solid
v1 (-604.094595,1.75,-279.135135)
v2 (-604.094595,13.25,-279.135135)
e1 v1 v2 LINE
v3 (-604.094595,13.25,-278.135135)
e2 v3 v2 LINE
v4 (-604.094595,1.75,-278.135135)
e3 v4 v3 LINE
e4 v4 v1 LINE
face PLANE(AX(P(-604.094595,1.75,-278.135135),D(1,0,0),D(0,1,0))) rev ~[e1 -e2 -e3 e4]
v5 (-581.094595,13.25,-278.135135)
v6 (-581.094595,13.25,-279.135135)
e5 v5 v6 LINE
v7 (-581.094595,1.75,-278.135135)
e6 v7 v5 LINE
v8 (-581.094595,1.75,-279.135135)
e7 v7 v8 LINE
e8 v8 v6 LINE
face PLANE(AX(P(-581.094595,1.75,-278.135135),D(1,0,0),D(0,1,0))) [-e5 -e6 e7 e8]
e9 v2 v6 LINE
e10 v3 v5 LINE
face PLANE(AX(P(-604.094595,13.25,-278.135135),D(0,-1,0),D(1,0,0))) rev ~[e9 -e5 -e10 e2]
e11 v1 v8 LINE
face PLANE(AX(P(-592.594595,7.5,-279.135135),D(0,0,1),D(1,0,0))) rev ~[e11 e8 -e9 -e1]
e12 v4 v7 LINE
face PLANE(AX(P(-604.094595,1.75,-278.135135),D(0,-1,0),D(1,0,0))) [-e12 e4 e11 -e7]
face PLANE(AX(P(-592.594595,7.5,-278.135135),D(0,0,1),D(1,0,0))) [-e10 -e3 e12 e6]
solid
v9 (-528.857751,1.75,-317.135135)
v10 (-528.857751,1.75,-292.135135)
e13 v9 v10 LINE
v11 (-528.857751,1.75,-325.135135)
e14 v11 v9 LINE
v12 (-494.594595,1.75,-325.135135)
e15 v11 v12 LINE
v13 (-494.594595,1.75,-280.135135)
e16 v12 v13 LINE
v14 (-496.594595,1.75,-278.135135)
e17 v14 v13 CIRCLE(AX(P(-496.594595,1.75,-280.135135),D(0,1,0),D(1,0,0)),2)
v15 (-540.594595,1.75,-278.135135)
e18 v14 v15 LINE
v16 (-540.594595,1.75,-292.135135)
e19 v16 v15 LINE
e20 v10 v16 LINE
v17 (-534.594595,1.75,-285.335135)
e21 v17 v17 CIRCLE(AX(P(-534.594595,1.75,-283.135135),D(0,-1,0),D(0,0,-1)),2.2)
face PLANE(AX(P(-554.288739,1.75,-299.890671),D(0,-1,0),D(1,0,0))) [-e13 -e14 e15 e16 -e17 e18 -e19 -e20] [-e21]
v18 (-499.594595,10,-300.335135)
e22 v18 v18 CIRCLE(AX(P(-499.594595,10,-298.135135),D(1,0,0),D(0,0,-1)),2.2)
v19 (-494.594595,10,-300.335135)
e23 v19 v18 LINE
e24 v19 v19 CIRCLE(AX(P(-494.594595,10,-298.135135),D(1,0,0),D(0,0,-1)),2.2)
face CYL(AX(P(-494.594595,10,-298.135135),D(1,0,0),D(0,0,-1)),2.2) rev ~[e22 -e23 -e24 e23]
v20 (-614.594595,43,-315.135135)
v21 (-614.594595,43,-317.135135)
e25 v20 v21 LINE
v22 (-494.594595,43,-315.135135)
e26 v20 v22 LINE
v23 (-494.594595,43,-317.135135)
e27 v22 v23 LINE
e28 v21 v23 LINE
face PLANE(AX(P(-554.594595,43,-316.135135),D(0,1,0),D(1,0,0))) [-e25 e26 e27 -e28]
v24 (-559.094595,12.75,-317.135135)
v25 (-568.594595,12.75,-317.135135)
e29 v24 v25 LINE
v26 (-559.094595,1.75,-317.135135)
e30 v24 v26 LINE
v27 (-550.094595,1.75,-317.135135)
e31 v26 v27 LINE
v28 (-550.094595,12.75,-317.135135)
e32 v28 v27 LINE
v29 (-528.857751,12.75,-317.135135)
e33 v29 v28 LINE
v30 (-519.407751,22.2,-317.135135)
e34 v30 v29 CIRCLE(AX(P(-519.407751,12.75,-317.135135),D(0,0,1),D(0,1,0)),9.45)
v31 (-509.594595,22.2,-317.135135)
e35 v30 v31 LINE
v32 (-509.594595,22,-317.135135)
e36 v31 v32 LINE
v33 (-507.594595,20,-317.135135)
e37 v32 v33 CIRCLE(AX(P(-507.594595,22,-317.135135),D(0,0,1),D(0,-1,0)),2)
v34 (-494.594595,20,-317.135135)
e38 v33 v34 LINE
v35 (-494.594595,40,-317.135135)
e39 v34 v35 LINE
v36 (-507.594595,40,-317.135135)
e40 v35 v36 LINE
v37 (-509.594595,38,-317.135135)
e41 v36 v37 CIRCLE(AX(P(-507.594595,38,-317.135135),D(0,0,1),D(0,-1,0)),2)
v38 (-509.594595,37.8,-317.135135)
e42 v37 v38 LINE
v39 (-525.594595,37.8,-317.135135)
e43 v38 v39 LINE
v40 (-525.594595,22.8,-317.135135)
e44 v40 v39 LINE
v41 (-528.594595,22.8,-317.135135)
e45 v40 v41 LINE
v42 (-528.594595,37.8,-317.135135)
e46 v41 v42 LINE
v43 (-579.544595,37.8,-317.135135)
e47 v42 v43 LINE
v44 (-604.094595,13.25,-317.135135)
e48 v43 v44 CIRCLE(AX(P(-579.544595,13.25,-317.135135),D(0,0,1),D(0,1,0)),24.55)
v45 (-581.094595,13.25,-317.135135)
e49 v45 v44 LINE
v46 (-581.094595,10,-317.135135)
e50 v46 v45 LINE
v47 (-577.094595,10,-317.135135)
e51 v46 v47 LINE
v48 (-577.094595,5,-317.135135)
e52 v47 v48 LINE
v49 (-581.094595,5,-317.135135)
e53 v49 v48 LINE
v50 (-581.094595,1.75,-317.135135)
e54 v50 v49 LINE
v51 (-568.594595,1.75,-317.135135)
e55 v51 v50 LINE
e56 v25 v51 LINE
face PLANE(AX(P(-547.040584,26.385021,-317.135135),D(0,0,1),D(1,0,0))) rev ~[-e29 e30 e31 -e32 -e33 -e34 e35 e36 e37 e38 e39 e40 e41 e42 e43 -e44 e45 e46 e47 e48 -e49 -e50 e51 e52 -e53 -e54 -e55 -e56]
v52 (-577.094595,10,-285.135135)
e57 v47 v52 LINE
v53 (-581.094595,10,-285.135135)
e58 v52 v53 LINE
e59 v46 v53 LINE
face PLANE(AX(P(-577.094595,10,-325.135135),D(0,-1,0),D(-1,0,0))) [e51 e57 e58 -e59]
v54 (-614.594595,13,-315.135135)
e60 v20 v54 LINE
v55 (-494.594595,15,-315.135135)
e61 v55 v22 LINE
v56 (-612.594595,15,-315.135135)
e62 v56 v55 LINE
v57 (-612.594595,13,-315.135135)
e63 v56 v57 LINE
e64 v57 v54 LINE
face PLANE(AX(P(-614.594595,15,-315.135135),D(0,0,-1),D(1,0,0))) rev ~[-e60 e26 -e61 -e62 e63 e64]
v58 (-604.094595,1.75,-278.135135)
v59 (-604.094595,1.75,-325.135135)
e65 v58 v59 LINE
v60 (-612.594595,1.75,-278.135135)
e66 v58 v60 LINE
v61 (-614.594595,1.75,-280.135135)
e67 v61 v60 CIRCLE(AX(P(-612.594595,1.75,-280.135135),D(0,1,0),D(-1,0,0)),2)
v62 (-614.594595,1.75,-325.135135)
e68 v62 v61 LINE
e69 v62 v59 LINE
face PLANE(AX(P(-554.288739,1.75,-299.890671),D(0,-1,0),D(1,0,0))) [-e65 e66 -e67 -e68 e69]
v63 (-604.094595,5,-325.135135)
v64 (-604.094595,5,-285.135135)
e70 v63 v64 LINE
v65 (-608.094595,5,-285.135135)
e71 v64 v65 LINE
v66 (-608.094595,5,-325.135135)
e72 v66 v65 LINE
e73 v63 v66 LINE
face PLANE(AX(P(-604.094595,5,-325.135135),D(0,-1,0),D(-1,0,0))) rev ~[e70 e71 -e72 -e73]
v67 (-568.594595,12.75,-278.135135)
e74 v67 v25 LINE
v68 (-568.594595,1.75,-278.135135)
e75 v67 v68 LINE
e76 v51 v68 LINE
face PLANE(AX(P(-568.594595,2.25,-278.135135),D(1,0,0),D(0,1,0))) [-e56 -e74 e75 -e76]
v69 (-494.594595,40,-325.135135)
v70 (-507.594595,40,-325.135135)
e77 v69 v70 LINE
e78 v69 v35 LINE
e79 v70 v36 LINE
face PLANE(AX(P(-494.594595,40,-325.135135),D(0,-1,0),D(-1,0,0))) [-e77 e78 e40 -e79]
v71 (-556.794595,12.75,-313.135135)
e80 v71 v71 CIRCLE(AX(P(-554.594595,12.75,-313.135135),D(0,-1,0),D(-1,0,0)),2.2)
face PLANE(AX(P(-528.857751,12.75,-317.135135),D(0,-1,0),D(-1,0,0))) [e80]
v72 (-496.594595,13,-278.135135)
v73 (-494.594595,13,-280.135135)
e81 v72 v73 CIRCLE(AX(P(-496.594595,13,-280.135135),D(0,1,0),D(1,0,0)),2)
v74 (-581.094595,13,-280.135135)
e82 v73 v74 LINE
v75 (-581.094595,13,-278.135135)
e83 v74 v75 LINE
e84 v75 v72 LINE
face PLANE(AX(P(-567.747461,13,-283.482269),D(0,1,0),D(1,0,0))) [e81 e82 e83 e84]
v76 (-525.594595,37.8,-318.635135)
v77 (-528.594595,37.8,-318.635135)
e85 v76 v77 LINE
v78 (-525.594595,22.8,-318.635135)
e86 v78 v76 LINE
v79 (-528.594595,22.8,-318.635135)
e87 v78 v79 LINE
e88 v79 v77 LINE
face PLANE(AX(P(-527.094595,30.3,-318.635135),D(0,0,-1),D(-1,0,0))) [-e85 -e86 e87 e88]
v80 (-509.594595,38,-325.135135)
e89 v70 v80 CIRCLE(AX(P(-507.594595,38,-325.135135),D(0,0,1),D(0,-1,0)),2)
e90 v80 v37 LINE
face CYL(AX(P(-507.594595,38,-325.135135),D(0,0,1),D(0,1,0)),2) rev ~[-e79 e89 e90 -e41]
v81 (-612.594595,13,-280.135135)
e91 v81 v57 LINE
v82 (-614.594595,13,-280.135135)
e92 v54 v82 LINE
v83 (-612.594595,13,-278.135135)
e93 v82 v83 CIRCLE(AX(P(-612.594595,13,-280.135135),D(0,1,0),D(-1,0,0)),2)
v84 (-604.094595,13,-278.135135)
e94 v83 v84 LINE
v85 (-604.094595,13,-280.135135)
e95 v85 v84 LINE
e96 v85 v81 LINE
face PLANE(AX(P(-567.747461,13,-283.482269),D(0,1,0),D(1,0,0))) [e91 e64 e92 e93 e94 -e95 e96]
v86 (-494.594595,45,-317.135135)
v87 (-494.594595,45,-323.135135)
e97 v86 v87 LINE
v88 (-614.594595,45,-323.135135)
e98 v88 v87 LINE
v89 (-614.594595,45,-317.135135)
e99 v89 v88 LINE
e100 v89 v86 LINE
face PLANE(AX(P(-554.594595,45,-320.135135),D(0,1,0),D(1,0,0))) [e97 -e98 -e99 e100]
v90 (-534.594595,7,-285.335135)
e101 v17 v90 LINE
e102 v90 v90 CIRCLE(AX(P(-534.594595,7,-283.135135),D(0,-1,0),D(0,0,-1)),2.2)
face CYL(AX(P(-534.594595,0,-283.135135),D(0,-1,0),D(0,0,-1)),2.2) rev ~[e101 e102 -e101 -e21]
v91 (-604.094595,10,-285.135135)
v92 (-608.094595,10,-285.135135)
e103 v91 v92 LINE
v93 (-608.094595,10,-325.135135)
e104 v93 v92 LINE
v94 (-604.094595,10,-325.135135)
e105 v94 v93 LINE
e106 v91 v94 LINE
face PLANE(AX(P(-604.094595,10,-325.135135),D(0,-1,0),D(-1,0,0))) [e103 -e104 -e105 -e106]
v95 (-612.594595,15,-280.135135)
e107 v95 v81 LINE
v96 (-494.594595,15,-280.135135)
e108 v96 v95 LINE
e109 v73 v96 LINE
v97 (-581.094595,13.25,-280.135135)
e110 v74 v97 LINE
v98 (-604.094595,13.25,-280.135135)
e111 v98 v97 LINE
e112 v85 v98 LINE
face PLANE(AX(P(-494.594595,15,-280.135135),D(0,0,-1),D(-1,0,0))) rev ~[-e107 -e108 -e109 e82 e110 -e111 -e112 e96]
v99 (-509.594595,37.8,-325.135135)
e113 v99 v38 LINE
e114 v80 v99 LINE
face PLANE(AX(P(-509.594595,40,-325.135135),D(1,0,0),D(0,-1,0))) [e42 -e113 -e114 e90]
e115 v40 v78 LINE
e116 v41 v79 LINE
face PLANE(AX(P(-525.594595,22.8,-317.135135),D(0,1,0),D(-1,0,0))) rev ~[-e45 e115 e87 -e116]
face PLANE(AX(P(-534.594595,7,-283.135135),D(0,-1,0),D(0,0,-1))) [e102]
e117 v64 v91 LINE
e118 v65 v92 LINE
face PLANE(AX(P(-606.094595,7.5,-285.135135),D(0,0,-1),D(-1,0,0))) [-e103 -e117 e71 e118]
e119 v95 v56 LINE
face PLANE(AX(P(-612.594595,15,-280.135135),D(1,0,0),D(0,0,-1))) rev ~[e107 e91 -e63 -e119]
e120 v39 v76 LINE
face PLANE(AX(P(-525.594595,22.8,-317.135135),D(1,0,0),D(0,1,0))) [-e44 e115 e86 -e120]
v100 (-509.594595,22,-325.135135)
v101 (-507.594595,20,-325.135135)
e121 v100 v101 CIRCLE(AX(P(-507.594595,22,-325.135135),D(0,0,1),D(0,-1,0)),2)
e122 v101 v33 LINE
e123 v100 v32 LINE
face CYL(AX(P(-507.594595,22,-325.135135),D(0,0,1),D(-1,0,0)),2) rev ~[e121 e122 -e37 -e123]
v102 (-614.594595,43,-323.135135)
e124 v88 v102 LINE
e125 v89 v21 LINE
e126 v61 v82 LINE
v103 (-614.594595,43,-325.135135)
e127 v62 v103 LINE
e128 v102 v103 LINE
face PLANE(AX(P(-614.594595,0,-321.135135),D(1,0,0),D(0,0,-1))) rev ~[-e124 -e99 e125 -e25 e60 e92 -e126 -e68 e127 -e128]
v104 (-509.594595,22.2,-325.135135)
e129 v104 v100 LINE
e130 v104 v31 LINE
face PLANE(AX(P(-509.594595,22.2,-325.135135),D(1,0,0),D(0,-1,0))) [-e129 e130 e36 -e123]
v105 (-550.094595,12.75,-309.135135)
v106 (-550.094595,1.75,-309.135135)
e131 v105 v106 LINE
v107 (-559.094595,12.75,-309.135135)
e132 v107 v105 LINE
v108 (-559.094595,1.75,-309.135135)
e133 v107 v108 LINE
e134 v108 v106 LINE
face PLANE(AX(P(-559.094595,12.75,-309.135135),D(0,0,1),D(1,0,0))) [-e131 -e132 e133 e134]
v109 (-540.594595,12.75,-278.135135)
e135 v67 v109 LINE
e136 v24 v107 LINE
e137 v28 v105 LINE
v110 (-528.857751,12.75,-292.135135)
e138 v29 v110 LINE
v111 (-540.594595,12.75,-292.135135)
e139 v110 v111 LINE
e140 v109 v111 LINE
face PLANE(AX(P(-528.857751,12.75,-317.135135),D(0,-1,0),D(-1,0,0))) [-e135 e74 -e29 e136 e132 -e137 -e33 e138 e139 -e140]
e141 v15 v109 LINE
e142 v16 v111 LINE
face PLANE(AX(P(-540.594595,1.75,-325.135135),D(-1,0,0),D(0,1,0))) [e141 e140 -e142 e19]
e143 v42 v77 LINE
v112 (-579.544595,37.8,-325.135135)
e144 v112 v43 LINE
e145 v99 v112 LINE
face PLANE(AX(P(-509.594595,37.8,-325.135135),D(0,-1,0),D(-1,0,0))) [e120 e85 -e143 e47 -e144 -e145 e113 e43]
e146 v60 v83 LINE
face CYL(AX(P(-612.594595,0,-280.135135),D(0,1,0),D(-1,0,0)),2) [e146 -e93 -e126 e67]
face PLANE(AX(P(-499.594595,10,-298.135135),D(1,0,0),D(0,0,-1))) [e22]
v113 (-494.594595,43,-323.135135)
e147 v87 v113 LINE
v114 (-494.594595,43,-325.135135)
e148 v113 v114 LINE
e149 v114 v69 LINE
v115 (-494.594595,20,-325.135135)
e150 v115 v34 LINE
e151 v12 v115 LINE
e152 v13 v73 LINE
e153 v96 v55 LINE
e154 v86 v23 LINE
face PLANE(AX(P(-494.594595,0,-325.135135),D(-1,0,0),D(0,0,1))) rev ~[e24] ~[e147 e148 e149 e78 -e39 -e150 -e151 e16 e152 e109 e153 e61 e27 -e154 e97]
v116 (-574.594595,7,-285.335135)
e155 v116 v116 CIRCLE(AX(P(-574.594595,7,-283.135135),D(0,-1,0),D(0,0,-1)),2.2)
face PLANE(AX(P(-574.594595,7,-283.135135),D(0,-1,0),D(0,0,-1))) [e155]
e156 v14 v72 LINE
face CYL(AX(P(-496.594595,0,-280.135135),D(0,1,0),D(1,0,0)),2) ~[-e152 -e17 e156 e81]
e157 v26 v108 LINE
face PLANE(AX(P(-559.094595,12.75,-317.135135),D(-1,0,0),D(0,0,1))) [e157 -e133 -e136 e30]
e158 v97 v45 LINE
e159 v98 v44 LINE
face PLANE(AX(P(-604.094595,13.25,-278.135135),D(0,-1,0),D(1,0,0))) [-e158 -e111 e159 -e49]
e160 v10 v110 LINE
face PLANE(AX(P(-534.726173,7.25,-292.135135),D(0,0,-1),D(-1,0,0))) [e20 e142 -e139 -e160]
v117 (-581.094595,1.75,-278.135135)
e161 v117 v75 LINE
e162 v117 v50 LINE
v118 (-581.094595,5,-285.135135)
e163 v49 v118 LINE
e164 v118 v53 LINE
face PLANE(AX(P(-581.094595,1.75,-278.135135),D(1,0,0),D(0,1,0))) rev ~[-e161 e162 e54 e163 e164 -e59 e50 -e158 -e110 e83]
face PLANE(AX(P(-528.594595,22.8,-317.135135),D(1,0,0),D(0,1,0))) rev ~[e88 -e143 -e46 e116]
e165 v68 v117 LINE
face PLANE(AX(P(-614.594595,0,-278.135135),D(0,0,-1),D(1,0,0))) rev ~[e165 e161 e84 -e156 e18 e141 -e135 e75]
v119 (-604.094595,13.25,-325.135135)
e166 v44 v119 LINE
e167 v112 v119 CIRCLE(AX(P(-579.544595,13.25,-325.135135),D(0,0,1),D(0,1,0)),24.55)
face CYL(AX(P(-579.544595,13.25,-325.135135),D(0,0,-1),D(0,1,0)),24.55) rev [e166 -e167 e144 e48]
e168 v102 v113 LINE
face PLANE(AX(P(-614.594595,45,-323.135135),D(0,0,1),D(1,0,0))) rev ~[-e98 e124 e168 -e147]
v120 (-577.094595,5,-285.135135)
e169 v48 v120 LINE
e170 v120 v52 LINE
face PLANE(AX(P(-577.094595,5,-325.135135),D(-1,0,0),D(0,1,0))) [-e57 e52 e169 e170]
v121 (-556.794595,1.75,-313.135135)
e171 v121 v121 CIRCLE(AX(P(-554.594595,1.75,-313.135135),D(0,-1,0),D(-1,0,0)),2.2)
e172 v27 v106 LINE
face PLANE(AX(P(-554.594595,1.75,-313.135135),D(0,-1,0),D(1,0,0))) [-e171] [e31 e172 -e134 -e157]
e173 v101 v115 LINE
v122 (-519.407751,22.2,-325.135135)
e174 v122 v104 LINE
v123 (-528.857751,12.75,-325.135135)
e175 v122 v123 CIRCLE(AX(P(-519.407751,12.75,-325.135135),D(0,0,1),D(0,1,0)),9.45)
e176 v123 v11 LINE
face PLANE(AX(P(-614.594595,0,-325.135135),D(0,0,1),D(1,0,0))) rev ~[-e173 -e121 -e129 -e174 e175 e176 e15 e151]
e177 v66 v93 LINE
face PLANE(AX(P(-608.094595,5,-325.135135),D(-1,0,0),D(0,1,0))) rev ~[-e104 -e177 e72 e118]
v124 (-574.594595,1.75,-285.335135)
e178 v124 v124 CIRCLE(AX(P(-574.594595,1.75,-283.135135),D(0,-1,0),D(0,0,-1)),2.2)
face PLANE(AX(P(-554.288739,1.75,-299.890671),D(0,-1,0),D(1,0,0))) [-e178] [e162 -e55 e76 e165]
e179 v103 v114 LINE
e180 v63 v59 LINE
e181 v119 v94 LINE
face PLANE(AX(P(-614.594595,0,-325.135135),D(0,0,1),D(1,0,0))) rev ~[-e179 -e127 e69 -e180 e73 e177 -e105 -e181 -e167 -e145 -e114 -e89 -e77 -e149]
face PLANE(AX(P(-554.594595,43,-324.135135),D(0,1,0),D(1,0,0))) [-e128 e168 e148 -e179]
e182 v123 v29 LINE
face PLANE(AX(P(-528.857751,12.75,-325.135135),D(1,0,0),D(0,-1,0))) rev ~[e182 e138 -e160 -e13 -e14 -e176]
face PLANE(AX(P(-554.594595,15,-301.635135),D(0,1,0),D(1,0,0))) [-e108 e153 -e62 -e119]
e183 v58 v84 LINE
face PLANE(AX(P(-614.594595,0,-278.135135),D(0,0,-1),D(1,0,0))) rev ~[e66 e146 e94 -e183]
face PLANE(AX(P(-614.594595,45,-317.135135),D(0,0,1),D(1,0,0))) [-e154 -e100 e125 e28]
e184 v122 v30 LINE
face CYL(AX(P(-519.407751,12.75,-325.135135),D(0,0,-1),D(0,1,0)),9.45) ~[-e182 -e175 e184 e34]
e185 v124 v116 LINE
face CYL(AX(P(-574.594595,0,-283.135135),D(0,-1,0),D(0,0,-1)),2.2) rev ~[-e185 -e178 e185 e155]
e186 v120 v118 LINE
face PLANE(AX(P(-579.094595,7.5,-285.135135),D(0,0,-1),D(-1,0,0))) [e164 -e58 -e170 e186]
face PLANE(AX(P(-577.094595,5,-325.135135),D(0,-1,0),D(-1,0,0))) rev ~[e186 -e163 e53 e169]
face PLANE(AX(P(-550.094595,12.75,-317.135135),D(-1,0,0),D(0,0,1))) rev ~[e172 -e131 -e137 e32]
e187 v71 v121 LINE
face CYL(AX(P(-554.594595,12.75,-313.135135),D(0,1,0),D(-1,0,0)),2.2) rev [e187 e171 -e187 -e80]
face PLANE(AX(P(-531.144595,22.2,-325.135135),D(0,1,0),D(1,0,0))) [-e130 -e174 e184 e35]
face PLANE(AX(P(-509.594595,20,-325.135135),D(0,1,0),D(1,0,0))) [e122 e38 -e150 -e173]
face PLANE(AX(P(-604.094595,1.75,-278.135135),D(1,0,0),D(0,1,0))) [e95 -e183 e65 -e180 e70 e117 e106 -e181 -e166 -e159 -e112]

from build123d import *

# Parameters (mm, degrees)
SKETCH_1_W           = 120
SKETCH_1_H           = 47
EXTRUDE_1_DEPTH      = 15
SKETCH_2_W           = 120
SKETCH_2_H           = 10
EXTRUDE_2_DEPTH      = 30
SKETCH_3_W           = 28
SKETCH_3_H           = 10.5
CUT_EXTRUDE_1_DEPTH  = 619.029542744
SKETCH_4_W           = 23
SKETCH_4_H           = 11.5
CUT_EXTRUDE_2_DEPTH  = 619.029542744
SKETCH_5_W           = 23
SKETCH_5_H           = 11.5
EXTRUDE_3_DEPTH      = 1
CUT_EXTRUDE_4_DEPTH  = 8
SKETCH_8_W           = 4
SKETCH_8_H           = 5
CUT_EXTRUDE_5_DEPTH  = 40
EXTRUDE_5_DEPTH      = 3
FILLET_2_R           = 2
EXTRUDE_6_DEPTH      = 2
SKETCH_12_W          = 120
SKETCH_12_H          = 2
CUT_EXTRUDE_7_DEPTH  = 2
SKETCH_15_R          = 2.2
CUT_EXTRUDE_9_DEPTH  = 7
SKETCH_18_W          = 63.5
SKETCH_18_H          = 11
CUT_EXTRUDE_15_DEPTH = 8
SKETCH_20_W          = 28
SKETCH_20_H          = 0.5
CUT_EXTRUDE_16_DEPTH = 80
CUT_EXTRUDE_17_DEPTH = 8
SKETCH_22_W          = 11.736843269
SKETCH_22_H          = 11
CUT_EXTRUDE_18_DEPTH = 25
SKETCH_24_W          = 120
SKETCH_24_H          = 4
CUT_EXTRUDE_19_DEPTH = 2
SKETCH_25_W          = 23.28525444
SKETCH_25_H          = 36.187442056
CUT_EXTRUDE_20_DEPTH = 2
SKETCH_27_W          = 120.611710339
SKETCH_27_H          = 50.488927659
CUT_EXTRUDE_24_DEPTH = 1.75
SKETCH_28_W          = 3
SKETCH_28_H          = 15
EXTRUDE_7_DEPTH      = 1.5
CUT_EXTRUDE_25_DEPTH = 2
SKETCH_30_W          = 9
SKETCH_30_H          = 8
SKETCH_30_R          = 2.2
EXTRUDE_8_DEPTH      = 11
SKETCH_33_R          = 2.2
CUT_EXTRUDE_27_DEPTH = 5


with BuildPart() as part:
    # 草图1 → 凸台-拉伸1 (new body)
    with BuildSketch(Plane(origin=(0, 0, 0), x_dir=(1, 0, 0), z_dir=(0, 1, 0))):
        with Locations((-554.594594595, 301.635135135)):
            Rectangle(SKETCH_1_W, SKETCH_1_H)
    extrude(amount=EXTRUDE_1_DEPTH)

    # 草图2 → 凸台-拉伸2 (add)
    with BuildSketch(Plane(origin=(0, 15, 0), x_dir=(1, 0, 0), z_dir=(0, 1, 0))):
        with Locations((-554.594594595, 320.135135135)):
            Rectangle(SKETCH_2_W, SKETCH_2_H)
    extrude(amount=EXTRUDE_2_DEPTH)

    # 草图3 → 切除-拉伸1 (cut, through all)
    with BuildSketch(Plane.XY.offset(-278.135135135)):
        with Locations((-554.594594595, 7.5)):
            Rectangle(SKETCH_3_W, SKETCH_3_H)
    extrude(amount=-CUT_EXTRUDE_1_DEPTH, mode=Mode.SUBTRACT)

    # 草图4 → 切除-拉伸2 (cut, through all)
    with BuildSketch(Plane.XY.offset(-278.135135135)):
        with Locations((-592.594594595, 7.5)):
            Rectangle(SKETCH_4_W, SKETCH_4_H)
    extrude(amount=-CUT_EXTRUDE_2_DEPTH, mode=Mode.SUBTRACT)

    # 草图7 → 切除-拉伸4 (cut)
    with BuildSketch(Plane(origin=(0, 0, -325.135135135), x_dir=(-1, 0, 0), z_dir=(0, 0, -1))):
        with BuildLine():
            Line((494.594594595, 40), (509.594594595, 40))
            Line((509.594594595, 40), (509.594594595, 37.8))
            Line((509.594594595, 37.8), (579.544594595, 37.8))
            ThreePointArc((579.544594595, 37.8), (596.904066073, 30.609471478), (604.094594595, 13.25))
            Line((604.094594595, 13.25), (604.094594595, 12.75))
            Line((604.094594595, 12.75), (540.594594595, 12.75))
            ThreePointArc((540.594594595, 12.75), (537.826753677, 19.432159082), (531.144594595, 22.2))
            Line((531.144594595, 22.2), (509.594594595, 22.2))
            Line((509.594594595, 22.2), (509.594594595, 20))
            Line((509.594594595, 20), (494.594594595, 20))
            Line((494.594594595, 20), (494.594594595, 40))
        make_face()
    extrude(amount=-CUT_EXTRUDE_4_DEPTH, mode=Mode.SUBTRACT)

    # 草图8 → 切除-拉伸5 (cut)
    with BuildSketch(Plane(origin=(0, 0, -325.135135135), x_dir=(-1, 0, 0), z_dir=(0, 0, -1))):
        with Locations((606.094594595, 7.5)):
            Rectangle(SKETCH_8_W, SKETCH_8_H)
        with Locations((579.094594595, 7.5)):
            Rectangle(SKETCH_8_W, SKETCH_8_H)
    extrude(amount=-CUT_EXTRUDE_5_DEPTH, mode=Mode.SUBTRACT)

    # 草图9 → 凸台-拉伸5 (add)
    with BuildSketch(Plane(origin=(0, 0, -325.135135135), x_dir=(-1, 0, 0), z_dir=(0, 0, -1))):
        Polygon((540.594594595, 2.25), (546.794594595, 2.25), (546.794594595, 10.25), (562.394594595, 10.25), (562.394594595, 2.25), (568.594594595, 2.25), (568.594594595, 10.25), (568.594594595, 12.75), (540.594594595, 12.75), (540.594594595, 10.25), align=None)
    extrude(amount=-EXTRUDE_5_DEPTH)

    # 圆角2
    fillet_2_edges = [part.edges().sort_by_distance(p)[0] for p in [
        (-509.594594595, 40, -321.135135135),
        (-509.594594595, 20, -321.135135135),
        (-494.594594595, 7.5, -278.135135135),
        (-614.594594595, 7.5, -278.135135135),
    ]]
    fillet(fillet_2_edges, radius=FILLET_2_R)

    # 草图10 → 凸台-拉伸6 (add)
    with BuildSketch(Plane.XZ):
        Polygon((-494.594594595, -325.135135135), (-494.594594595, -321.135135135), (-544.594594595, -321.135135135), (-544.594594595, -288.135135135), (-564.594594595, -288.135135135), (-564.594594595, -321.135135135), (-614.594594595, -321.135135135), (-614.594594595, -325.135135135), align=None)
    extrude(amount=EXTRUDE_6_DEPTH)

    # 草图12 → 切除-拉伸7 (cut)
    with BuildSketch(Plane(origin=(0, 45, 0), x_dir=(1, 0, 0), z_dir=(0, 1, 0))):
        with Locations((-554.594594595, 324.135135135)):
            Rectangle(SKETCH_12_W, SKETCH_12_H)
        with Locations((-554.594594595, 316.135135135)):
            Rectangle(SKETCH_12_W, SKETCH_12_H)
    extrude(amount=-CUT_EXTRUDE_7_DEPTH, mode=Mode.SUBTRACT)

    # 草图15 → 切除-拉伸9 (cut)
    with BuildSketch(Plane.XZ):
        with Locations(Location((-574.594594595, -283.135135135, 0), (0, 0, 270))):
            Circle(SKETCH_15_R)
        with Locations(Location((-534.594594595, -283.135135135, 0), (0, 0, 270))):
            Circle(SKETCH_15_R)
    extrude(amount=-CUT_EXTRUDE_9_DEPTH, mode=Mode.SUBTRACT)

    # 草图18 → 切除-拉伸15 (cut)
    with BuildSketch(Plane(origin=(0, 0, -325.135135135), x_dir=(-1, 0, 0), z_dir=(0, 0, -1))):
        with Locations((572.344594595, 7.25)):
            Rectangle(SKETCH_18_W, SKETCH_18_H)
    extrude(amount=-CUT_EXTRUDE_15_DEPTH, mode=Mode.SUBTRACT)

    # 草图20 → 切除-拉伸16 (cut)
    with BuildSketch(Plane(origin=(0, 0, -317.135135135), x_dir=(-1, 0, 0), z_dir=(0, 0, -1))):
        with Locations((554.594594595, 2)):
            Rectangle(SKETCH_20_W, SKETCH_20_H)
    extrude(amount=-CUT_EXTRUDE_16_DEPTH, mode=Mode.SUBTRACT)

    # 草图21 → 切除-拉伸17 (cut)
    with BuildSketch(Plane(origin=(0, 0, -325.135135135), x_dir=(-1, 0, 0), z_dir=(0, 0, -1))):
        with BuildLine():
            Line((528.857751326, 12.75), (528.857751326, 1.75))
            Line((528.857751326, 1.75), (540.594594595, 1.75))
            Line((540.594594595, 1.75), (540.594594595, 12.75))
            ThreePointArc((540.594594595, 12.75), (537.826753677, 19.432159082), (531.144594595, 22.2))
            Line((531.144594595, 22.2), (519.407751326, 22.2))
            ThreePointArc((519.407751326, 22.2), (526.089910408, 19.432159082), (528.857751326, 12.75))
        make_face()
    extrude(amount=-CUT_EXTRUDE_17_DEPTH, mode=Mode.SUBTRACT)

    # 草图22 → 切除-拉伸18 (cut)
    with BuildSketch(Plane(origin=(0, 0, -317.135135135), x_dir=(-1, 0, 0), z_dir=(0, 0, -1))):
        with Locations((534.72617296, 7.25)):
            Rectangle(SKETCH_22_W, SKETCH_22_H)
    extrude(amount=-CUT_EXTRUDE_18_DEPTH, mode=Mode.SUBTRACT)

    # 草图24 → 切除-拉伸19 (cut)
    with BuildSketch(Plane.XZ.offset(2)):
        with Locations((-554.594594595, -323.135135135)):
            Rectangle(SKETCH_24_W, SKETCH_24_H)
    extrude(amount=-CUT_EXTRUDE_19_DEPTH, mode=Mode.SUBTRACT)

    # 草图25 → 切除-拉伸20 (cut)
    with BuildSketch(Plane.XZ.offset(2)):
        with Locations((-554.882611991, -305.107968522)):
            Rectangle(SKETCH_25_W, SKETCH_25_H)
    extrude(amount=-CUT_EXTRUDE_20_DEPTH, mode=Mode.SUBTRACT)

    # 草图27 → 切除-拉伸24 (cut)
    with BuildSketch(Plane.XZ):
        with Locations((-554.288739426, -299.890671306)):
            Rectangle(SKETCH_27_W, SKETCH_27_H)
    extrude(amount=-CUT_EXTRUDE_24_DEPTH, mode=Mode.SUBTRACT)

    # 草图28 → 凸台-拉伸7 (add)
    with BuildSketch(Plane(origin=(0, 0, -317.135135135), x_dir=(-1, 0, 0), z_dir=(0, 0, -1))):
        with Locations((527.094594595, 30.3)):
            Rectangle(SKETCH_28_W, SKETCH_28_H)
    extrude(amount=EXTRUDE_7_DEPTH)

    # 草图29 → 切除-拉伸25 (cut)
    with BuildSketch(Plane(origin=(0, 15, 0), x_dir=(1, 0, 0), z_dir=(0, 1, 0))):
        Polygon((-494.594594595, 280.135135135), (-612.594594595, 280.135135135), (-612.594594595, 315.135135135), (-614.594594595, 315.135135135), (-614.594594595, 280.135135135), (-614.594594595, 278.135135135), (-494.594594595, 278.135135135), align=None)
    extrude(amount=-CUT_EXTRUDE_25_DEPTH, mode=Mode.SUBTRACT)

    # 草图30 → 凸台-拉伸8 (add)
    with BuildSketch(Plane.XZ.offset(-12.75)):
        with Locations((-554.594594595, -313.135135135)):
            Rectangle(SKETCH_30_W, SKETCH_30_H)
        with Locations(Location((-554.594594595, -313.135135135, 0), (0, 0, 180))):
            Circle(SKETCH_30_R, mode=Mode.SUBTRACT)
    extrude(amount=EXTRUDE_8_DEPTH)

    # 草图33 → 切除-拉伸27 (cut)
    with BuildSketch(Plane(origin=(-494.594594595, 0, 0), x_dir=(0, 0, -1), z_dir=(1, 0, 0))):
        with Locations((298.135135135, 10)):
            Circle(SKETCH_33_R)
    extrude(amount=-CUT_EXTRUDE_27_DEPTH, mode=Mode.SUBTRACT)


with BuildPart() as body_2:
    # 草图5 → 凸台-拉伸3 (new body)
    with BuildSketch(Plane.XY.offset(-278.135135135)):
        with Locations((-592.594594595, 7.5)):
            Rectangle(SKETCH_5_W, SKETCH_5_H)
    extrude(amount=-EXTRUDE_3_DEPTH)


solid = Compound([part.part, body_2.part])
